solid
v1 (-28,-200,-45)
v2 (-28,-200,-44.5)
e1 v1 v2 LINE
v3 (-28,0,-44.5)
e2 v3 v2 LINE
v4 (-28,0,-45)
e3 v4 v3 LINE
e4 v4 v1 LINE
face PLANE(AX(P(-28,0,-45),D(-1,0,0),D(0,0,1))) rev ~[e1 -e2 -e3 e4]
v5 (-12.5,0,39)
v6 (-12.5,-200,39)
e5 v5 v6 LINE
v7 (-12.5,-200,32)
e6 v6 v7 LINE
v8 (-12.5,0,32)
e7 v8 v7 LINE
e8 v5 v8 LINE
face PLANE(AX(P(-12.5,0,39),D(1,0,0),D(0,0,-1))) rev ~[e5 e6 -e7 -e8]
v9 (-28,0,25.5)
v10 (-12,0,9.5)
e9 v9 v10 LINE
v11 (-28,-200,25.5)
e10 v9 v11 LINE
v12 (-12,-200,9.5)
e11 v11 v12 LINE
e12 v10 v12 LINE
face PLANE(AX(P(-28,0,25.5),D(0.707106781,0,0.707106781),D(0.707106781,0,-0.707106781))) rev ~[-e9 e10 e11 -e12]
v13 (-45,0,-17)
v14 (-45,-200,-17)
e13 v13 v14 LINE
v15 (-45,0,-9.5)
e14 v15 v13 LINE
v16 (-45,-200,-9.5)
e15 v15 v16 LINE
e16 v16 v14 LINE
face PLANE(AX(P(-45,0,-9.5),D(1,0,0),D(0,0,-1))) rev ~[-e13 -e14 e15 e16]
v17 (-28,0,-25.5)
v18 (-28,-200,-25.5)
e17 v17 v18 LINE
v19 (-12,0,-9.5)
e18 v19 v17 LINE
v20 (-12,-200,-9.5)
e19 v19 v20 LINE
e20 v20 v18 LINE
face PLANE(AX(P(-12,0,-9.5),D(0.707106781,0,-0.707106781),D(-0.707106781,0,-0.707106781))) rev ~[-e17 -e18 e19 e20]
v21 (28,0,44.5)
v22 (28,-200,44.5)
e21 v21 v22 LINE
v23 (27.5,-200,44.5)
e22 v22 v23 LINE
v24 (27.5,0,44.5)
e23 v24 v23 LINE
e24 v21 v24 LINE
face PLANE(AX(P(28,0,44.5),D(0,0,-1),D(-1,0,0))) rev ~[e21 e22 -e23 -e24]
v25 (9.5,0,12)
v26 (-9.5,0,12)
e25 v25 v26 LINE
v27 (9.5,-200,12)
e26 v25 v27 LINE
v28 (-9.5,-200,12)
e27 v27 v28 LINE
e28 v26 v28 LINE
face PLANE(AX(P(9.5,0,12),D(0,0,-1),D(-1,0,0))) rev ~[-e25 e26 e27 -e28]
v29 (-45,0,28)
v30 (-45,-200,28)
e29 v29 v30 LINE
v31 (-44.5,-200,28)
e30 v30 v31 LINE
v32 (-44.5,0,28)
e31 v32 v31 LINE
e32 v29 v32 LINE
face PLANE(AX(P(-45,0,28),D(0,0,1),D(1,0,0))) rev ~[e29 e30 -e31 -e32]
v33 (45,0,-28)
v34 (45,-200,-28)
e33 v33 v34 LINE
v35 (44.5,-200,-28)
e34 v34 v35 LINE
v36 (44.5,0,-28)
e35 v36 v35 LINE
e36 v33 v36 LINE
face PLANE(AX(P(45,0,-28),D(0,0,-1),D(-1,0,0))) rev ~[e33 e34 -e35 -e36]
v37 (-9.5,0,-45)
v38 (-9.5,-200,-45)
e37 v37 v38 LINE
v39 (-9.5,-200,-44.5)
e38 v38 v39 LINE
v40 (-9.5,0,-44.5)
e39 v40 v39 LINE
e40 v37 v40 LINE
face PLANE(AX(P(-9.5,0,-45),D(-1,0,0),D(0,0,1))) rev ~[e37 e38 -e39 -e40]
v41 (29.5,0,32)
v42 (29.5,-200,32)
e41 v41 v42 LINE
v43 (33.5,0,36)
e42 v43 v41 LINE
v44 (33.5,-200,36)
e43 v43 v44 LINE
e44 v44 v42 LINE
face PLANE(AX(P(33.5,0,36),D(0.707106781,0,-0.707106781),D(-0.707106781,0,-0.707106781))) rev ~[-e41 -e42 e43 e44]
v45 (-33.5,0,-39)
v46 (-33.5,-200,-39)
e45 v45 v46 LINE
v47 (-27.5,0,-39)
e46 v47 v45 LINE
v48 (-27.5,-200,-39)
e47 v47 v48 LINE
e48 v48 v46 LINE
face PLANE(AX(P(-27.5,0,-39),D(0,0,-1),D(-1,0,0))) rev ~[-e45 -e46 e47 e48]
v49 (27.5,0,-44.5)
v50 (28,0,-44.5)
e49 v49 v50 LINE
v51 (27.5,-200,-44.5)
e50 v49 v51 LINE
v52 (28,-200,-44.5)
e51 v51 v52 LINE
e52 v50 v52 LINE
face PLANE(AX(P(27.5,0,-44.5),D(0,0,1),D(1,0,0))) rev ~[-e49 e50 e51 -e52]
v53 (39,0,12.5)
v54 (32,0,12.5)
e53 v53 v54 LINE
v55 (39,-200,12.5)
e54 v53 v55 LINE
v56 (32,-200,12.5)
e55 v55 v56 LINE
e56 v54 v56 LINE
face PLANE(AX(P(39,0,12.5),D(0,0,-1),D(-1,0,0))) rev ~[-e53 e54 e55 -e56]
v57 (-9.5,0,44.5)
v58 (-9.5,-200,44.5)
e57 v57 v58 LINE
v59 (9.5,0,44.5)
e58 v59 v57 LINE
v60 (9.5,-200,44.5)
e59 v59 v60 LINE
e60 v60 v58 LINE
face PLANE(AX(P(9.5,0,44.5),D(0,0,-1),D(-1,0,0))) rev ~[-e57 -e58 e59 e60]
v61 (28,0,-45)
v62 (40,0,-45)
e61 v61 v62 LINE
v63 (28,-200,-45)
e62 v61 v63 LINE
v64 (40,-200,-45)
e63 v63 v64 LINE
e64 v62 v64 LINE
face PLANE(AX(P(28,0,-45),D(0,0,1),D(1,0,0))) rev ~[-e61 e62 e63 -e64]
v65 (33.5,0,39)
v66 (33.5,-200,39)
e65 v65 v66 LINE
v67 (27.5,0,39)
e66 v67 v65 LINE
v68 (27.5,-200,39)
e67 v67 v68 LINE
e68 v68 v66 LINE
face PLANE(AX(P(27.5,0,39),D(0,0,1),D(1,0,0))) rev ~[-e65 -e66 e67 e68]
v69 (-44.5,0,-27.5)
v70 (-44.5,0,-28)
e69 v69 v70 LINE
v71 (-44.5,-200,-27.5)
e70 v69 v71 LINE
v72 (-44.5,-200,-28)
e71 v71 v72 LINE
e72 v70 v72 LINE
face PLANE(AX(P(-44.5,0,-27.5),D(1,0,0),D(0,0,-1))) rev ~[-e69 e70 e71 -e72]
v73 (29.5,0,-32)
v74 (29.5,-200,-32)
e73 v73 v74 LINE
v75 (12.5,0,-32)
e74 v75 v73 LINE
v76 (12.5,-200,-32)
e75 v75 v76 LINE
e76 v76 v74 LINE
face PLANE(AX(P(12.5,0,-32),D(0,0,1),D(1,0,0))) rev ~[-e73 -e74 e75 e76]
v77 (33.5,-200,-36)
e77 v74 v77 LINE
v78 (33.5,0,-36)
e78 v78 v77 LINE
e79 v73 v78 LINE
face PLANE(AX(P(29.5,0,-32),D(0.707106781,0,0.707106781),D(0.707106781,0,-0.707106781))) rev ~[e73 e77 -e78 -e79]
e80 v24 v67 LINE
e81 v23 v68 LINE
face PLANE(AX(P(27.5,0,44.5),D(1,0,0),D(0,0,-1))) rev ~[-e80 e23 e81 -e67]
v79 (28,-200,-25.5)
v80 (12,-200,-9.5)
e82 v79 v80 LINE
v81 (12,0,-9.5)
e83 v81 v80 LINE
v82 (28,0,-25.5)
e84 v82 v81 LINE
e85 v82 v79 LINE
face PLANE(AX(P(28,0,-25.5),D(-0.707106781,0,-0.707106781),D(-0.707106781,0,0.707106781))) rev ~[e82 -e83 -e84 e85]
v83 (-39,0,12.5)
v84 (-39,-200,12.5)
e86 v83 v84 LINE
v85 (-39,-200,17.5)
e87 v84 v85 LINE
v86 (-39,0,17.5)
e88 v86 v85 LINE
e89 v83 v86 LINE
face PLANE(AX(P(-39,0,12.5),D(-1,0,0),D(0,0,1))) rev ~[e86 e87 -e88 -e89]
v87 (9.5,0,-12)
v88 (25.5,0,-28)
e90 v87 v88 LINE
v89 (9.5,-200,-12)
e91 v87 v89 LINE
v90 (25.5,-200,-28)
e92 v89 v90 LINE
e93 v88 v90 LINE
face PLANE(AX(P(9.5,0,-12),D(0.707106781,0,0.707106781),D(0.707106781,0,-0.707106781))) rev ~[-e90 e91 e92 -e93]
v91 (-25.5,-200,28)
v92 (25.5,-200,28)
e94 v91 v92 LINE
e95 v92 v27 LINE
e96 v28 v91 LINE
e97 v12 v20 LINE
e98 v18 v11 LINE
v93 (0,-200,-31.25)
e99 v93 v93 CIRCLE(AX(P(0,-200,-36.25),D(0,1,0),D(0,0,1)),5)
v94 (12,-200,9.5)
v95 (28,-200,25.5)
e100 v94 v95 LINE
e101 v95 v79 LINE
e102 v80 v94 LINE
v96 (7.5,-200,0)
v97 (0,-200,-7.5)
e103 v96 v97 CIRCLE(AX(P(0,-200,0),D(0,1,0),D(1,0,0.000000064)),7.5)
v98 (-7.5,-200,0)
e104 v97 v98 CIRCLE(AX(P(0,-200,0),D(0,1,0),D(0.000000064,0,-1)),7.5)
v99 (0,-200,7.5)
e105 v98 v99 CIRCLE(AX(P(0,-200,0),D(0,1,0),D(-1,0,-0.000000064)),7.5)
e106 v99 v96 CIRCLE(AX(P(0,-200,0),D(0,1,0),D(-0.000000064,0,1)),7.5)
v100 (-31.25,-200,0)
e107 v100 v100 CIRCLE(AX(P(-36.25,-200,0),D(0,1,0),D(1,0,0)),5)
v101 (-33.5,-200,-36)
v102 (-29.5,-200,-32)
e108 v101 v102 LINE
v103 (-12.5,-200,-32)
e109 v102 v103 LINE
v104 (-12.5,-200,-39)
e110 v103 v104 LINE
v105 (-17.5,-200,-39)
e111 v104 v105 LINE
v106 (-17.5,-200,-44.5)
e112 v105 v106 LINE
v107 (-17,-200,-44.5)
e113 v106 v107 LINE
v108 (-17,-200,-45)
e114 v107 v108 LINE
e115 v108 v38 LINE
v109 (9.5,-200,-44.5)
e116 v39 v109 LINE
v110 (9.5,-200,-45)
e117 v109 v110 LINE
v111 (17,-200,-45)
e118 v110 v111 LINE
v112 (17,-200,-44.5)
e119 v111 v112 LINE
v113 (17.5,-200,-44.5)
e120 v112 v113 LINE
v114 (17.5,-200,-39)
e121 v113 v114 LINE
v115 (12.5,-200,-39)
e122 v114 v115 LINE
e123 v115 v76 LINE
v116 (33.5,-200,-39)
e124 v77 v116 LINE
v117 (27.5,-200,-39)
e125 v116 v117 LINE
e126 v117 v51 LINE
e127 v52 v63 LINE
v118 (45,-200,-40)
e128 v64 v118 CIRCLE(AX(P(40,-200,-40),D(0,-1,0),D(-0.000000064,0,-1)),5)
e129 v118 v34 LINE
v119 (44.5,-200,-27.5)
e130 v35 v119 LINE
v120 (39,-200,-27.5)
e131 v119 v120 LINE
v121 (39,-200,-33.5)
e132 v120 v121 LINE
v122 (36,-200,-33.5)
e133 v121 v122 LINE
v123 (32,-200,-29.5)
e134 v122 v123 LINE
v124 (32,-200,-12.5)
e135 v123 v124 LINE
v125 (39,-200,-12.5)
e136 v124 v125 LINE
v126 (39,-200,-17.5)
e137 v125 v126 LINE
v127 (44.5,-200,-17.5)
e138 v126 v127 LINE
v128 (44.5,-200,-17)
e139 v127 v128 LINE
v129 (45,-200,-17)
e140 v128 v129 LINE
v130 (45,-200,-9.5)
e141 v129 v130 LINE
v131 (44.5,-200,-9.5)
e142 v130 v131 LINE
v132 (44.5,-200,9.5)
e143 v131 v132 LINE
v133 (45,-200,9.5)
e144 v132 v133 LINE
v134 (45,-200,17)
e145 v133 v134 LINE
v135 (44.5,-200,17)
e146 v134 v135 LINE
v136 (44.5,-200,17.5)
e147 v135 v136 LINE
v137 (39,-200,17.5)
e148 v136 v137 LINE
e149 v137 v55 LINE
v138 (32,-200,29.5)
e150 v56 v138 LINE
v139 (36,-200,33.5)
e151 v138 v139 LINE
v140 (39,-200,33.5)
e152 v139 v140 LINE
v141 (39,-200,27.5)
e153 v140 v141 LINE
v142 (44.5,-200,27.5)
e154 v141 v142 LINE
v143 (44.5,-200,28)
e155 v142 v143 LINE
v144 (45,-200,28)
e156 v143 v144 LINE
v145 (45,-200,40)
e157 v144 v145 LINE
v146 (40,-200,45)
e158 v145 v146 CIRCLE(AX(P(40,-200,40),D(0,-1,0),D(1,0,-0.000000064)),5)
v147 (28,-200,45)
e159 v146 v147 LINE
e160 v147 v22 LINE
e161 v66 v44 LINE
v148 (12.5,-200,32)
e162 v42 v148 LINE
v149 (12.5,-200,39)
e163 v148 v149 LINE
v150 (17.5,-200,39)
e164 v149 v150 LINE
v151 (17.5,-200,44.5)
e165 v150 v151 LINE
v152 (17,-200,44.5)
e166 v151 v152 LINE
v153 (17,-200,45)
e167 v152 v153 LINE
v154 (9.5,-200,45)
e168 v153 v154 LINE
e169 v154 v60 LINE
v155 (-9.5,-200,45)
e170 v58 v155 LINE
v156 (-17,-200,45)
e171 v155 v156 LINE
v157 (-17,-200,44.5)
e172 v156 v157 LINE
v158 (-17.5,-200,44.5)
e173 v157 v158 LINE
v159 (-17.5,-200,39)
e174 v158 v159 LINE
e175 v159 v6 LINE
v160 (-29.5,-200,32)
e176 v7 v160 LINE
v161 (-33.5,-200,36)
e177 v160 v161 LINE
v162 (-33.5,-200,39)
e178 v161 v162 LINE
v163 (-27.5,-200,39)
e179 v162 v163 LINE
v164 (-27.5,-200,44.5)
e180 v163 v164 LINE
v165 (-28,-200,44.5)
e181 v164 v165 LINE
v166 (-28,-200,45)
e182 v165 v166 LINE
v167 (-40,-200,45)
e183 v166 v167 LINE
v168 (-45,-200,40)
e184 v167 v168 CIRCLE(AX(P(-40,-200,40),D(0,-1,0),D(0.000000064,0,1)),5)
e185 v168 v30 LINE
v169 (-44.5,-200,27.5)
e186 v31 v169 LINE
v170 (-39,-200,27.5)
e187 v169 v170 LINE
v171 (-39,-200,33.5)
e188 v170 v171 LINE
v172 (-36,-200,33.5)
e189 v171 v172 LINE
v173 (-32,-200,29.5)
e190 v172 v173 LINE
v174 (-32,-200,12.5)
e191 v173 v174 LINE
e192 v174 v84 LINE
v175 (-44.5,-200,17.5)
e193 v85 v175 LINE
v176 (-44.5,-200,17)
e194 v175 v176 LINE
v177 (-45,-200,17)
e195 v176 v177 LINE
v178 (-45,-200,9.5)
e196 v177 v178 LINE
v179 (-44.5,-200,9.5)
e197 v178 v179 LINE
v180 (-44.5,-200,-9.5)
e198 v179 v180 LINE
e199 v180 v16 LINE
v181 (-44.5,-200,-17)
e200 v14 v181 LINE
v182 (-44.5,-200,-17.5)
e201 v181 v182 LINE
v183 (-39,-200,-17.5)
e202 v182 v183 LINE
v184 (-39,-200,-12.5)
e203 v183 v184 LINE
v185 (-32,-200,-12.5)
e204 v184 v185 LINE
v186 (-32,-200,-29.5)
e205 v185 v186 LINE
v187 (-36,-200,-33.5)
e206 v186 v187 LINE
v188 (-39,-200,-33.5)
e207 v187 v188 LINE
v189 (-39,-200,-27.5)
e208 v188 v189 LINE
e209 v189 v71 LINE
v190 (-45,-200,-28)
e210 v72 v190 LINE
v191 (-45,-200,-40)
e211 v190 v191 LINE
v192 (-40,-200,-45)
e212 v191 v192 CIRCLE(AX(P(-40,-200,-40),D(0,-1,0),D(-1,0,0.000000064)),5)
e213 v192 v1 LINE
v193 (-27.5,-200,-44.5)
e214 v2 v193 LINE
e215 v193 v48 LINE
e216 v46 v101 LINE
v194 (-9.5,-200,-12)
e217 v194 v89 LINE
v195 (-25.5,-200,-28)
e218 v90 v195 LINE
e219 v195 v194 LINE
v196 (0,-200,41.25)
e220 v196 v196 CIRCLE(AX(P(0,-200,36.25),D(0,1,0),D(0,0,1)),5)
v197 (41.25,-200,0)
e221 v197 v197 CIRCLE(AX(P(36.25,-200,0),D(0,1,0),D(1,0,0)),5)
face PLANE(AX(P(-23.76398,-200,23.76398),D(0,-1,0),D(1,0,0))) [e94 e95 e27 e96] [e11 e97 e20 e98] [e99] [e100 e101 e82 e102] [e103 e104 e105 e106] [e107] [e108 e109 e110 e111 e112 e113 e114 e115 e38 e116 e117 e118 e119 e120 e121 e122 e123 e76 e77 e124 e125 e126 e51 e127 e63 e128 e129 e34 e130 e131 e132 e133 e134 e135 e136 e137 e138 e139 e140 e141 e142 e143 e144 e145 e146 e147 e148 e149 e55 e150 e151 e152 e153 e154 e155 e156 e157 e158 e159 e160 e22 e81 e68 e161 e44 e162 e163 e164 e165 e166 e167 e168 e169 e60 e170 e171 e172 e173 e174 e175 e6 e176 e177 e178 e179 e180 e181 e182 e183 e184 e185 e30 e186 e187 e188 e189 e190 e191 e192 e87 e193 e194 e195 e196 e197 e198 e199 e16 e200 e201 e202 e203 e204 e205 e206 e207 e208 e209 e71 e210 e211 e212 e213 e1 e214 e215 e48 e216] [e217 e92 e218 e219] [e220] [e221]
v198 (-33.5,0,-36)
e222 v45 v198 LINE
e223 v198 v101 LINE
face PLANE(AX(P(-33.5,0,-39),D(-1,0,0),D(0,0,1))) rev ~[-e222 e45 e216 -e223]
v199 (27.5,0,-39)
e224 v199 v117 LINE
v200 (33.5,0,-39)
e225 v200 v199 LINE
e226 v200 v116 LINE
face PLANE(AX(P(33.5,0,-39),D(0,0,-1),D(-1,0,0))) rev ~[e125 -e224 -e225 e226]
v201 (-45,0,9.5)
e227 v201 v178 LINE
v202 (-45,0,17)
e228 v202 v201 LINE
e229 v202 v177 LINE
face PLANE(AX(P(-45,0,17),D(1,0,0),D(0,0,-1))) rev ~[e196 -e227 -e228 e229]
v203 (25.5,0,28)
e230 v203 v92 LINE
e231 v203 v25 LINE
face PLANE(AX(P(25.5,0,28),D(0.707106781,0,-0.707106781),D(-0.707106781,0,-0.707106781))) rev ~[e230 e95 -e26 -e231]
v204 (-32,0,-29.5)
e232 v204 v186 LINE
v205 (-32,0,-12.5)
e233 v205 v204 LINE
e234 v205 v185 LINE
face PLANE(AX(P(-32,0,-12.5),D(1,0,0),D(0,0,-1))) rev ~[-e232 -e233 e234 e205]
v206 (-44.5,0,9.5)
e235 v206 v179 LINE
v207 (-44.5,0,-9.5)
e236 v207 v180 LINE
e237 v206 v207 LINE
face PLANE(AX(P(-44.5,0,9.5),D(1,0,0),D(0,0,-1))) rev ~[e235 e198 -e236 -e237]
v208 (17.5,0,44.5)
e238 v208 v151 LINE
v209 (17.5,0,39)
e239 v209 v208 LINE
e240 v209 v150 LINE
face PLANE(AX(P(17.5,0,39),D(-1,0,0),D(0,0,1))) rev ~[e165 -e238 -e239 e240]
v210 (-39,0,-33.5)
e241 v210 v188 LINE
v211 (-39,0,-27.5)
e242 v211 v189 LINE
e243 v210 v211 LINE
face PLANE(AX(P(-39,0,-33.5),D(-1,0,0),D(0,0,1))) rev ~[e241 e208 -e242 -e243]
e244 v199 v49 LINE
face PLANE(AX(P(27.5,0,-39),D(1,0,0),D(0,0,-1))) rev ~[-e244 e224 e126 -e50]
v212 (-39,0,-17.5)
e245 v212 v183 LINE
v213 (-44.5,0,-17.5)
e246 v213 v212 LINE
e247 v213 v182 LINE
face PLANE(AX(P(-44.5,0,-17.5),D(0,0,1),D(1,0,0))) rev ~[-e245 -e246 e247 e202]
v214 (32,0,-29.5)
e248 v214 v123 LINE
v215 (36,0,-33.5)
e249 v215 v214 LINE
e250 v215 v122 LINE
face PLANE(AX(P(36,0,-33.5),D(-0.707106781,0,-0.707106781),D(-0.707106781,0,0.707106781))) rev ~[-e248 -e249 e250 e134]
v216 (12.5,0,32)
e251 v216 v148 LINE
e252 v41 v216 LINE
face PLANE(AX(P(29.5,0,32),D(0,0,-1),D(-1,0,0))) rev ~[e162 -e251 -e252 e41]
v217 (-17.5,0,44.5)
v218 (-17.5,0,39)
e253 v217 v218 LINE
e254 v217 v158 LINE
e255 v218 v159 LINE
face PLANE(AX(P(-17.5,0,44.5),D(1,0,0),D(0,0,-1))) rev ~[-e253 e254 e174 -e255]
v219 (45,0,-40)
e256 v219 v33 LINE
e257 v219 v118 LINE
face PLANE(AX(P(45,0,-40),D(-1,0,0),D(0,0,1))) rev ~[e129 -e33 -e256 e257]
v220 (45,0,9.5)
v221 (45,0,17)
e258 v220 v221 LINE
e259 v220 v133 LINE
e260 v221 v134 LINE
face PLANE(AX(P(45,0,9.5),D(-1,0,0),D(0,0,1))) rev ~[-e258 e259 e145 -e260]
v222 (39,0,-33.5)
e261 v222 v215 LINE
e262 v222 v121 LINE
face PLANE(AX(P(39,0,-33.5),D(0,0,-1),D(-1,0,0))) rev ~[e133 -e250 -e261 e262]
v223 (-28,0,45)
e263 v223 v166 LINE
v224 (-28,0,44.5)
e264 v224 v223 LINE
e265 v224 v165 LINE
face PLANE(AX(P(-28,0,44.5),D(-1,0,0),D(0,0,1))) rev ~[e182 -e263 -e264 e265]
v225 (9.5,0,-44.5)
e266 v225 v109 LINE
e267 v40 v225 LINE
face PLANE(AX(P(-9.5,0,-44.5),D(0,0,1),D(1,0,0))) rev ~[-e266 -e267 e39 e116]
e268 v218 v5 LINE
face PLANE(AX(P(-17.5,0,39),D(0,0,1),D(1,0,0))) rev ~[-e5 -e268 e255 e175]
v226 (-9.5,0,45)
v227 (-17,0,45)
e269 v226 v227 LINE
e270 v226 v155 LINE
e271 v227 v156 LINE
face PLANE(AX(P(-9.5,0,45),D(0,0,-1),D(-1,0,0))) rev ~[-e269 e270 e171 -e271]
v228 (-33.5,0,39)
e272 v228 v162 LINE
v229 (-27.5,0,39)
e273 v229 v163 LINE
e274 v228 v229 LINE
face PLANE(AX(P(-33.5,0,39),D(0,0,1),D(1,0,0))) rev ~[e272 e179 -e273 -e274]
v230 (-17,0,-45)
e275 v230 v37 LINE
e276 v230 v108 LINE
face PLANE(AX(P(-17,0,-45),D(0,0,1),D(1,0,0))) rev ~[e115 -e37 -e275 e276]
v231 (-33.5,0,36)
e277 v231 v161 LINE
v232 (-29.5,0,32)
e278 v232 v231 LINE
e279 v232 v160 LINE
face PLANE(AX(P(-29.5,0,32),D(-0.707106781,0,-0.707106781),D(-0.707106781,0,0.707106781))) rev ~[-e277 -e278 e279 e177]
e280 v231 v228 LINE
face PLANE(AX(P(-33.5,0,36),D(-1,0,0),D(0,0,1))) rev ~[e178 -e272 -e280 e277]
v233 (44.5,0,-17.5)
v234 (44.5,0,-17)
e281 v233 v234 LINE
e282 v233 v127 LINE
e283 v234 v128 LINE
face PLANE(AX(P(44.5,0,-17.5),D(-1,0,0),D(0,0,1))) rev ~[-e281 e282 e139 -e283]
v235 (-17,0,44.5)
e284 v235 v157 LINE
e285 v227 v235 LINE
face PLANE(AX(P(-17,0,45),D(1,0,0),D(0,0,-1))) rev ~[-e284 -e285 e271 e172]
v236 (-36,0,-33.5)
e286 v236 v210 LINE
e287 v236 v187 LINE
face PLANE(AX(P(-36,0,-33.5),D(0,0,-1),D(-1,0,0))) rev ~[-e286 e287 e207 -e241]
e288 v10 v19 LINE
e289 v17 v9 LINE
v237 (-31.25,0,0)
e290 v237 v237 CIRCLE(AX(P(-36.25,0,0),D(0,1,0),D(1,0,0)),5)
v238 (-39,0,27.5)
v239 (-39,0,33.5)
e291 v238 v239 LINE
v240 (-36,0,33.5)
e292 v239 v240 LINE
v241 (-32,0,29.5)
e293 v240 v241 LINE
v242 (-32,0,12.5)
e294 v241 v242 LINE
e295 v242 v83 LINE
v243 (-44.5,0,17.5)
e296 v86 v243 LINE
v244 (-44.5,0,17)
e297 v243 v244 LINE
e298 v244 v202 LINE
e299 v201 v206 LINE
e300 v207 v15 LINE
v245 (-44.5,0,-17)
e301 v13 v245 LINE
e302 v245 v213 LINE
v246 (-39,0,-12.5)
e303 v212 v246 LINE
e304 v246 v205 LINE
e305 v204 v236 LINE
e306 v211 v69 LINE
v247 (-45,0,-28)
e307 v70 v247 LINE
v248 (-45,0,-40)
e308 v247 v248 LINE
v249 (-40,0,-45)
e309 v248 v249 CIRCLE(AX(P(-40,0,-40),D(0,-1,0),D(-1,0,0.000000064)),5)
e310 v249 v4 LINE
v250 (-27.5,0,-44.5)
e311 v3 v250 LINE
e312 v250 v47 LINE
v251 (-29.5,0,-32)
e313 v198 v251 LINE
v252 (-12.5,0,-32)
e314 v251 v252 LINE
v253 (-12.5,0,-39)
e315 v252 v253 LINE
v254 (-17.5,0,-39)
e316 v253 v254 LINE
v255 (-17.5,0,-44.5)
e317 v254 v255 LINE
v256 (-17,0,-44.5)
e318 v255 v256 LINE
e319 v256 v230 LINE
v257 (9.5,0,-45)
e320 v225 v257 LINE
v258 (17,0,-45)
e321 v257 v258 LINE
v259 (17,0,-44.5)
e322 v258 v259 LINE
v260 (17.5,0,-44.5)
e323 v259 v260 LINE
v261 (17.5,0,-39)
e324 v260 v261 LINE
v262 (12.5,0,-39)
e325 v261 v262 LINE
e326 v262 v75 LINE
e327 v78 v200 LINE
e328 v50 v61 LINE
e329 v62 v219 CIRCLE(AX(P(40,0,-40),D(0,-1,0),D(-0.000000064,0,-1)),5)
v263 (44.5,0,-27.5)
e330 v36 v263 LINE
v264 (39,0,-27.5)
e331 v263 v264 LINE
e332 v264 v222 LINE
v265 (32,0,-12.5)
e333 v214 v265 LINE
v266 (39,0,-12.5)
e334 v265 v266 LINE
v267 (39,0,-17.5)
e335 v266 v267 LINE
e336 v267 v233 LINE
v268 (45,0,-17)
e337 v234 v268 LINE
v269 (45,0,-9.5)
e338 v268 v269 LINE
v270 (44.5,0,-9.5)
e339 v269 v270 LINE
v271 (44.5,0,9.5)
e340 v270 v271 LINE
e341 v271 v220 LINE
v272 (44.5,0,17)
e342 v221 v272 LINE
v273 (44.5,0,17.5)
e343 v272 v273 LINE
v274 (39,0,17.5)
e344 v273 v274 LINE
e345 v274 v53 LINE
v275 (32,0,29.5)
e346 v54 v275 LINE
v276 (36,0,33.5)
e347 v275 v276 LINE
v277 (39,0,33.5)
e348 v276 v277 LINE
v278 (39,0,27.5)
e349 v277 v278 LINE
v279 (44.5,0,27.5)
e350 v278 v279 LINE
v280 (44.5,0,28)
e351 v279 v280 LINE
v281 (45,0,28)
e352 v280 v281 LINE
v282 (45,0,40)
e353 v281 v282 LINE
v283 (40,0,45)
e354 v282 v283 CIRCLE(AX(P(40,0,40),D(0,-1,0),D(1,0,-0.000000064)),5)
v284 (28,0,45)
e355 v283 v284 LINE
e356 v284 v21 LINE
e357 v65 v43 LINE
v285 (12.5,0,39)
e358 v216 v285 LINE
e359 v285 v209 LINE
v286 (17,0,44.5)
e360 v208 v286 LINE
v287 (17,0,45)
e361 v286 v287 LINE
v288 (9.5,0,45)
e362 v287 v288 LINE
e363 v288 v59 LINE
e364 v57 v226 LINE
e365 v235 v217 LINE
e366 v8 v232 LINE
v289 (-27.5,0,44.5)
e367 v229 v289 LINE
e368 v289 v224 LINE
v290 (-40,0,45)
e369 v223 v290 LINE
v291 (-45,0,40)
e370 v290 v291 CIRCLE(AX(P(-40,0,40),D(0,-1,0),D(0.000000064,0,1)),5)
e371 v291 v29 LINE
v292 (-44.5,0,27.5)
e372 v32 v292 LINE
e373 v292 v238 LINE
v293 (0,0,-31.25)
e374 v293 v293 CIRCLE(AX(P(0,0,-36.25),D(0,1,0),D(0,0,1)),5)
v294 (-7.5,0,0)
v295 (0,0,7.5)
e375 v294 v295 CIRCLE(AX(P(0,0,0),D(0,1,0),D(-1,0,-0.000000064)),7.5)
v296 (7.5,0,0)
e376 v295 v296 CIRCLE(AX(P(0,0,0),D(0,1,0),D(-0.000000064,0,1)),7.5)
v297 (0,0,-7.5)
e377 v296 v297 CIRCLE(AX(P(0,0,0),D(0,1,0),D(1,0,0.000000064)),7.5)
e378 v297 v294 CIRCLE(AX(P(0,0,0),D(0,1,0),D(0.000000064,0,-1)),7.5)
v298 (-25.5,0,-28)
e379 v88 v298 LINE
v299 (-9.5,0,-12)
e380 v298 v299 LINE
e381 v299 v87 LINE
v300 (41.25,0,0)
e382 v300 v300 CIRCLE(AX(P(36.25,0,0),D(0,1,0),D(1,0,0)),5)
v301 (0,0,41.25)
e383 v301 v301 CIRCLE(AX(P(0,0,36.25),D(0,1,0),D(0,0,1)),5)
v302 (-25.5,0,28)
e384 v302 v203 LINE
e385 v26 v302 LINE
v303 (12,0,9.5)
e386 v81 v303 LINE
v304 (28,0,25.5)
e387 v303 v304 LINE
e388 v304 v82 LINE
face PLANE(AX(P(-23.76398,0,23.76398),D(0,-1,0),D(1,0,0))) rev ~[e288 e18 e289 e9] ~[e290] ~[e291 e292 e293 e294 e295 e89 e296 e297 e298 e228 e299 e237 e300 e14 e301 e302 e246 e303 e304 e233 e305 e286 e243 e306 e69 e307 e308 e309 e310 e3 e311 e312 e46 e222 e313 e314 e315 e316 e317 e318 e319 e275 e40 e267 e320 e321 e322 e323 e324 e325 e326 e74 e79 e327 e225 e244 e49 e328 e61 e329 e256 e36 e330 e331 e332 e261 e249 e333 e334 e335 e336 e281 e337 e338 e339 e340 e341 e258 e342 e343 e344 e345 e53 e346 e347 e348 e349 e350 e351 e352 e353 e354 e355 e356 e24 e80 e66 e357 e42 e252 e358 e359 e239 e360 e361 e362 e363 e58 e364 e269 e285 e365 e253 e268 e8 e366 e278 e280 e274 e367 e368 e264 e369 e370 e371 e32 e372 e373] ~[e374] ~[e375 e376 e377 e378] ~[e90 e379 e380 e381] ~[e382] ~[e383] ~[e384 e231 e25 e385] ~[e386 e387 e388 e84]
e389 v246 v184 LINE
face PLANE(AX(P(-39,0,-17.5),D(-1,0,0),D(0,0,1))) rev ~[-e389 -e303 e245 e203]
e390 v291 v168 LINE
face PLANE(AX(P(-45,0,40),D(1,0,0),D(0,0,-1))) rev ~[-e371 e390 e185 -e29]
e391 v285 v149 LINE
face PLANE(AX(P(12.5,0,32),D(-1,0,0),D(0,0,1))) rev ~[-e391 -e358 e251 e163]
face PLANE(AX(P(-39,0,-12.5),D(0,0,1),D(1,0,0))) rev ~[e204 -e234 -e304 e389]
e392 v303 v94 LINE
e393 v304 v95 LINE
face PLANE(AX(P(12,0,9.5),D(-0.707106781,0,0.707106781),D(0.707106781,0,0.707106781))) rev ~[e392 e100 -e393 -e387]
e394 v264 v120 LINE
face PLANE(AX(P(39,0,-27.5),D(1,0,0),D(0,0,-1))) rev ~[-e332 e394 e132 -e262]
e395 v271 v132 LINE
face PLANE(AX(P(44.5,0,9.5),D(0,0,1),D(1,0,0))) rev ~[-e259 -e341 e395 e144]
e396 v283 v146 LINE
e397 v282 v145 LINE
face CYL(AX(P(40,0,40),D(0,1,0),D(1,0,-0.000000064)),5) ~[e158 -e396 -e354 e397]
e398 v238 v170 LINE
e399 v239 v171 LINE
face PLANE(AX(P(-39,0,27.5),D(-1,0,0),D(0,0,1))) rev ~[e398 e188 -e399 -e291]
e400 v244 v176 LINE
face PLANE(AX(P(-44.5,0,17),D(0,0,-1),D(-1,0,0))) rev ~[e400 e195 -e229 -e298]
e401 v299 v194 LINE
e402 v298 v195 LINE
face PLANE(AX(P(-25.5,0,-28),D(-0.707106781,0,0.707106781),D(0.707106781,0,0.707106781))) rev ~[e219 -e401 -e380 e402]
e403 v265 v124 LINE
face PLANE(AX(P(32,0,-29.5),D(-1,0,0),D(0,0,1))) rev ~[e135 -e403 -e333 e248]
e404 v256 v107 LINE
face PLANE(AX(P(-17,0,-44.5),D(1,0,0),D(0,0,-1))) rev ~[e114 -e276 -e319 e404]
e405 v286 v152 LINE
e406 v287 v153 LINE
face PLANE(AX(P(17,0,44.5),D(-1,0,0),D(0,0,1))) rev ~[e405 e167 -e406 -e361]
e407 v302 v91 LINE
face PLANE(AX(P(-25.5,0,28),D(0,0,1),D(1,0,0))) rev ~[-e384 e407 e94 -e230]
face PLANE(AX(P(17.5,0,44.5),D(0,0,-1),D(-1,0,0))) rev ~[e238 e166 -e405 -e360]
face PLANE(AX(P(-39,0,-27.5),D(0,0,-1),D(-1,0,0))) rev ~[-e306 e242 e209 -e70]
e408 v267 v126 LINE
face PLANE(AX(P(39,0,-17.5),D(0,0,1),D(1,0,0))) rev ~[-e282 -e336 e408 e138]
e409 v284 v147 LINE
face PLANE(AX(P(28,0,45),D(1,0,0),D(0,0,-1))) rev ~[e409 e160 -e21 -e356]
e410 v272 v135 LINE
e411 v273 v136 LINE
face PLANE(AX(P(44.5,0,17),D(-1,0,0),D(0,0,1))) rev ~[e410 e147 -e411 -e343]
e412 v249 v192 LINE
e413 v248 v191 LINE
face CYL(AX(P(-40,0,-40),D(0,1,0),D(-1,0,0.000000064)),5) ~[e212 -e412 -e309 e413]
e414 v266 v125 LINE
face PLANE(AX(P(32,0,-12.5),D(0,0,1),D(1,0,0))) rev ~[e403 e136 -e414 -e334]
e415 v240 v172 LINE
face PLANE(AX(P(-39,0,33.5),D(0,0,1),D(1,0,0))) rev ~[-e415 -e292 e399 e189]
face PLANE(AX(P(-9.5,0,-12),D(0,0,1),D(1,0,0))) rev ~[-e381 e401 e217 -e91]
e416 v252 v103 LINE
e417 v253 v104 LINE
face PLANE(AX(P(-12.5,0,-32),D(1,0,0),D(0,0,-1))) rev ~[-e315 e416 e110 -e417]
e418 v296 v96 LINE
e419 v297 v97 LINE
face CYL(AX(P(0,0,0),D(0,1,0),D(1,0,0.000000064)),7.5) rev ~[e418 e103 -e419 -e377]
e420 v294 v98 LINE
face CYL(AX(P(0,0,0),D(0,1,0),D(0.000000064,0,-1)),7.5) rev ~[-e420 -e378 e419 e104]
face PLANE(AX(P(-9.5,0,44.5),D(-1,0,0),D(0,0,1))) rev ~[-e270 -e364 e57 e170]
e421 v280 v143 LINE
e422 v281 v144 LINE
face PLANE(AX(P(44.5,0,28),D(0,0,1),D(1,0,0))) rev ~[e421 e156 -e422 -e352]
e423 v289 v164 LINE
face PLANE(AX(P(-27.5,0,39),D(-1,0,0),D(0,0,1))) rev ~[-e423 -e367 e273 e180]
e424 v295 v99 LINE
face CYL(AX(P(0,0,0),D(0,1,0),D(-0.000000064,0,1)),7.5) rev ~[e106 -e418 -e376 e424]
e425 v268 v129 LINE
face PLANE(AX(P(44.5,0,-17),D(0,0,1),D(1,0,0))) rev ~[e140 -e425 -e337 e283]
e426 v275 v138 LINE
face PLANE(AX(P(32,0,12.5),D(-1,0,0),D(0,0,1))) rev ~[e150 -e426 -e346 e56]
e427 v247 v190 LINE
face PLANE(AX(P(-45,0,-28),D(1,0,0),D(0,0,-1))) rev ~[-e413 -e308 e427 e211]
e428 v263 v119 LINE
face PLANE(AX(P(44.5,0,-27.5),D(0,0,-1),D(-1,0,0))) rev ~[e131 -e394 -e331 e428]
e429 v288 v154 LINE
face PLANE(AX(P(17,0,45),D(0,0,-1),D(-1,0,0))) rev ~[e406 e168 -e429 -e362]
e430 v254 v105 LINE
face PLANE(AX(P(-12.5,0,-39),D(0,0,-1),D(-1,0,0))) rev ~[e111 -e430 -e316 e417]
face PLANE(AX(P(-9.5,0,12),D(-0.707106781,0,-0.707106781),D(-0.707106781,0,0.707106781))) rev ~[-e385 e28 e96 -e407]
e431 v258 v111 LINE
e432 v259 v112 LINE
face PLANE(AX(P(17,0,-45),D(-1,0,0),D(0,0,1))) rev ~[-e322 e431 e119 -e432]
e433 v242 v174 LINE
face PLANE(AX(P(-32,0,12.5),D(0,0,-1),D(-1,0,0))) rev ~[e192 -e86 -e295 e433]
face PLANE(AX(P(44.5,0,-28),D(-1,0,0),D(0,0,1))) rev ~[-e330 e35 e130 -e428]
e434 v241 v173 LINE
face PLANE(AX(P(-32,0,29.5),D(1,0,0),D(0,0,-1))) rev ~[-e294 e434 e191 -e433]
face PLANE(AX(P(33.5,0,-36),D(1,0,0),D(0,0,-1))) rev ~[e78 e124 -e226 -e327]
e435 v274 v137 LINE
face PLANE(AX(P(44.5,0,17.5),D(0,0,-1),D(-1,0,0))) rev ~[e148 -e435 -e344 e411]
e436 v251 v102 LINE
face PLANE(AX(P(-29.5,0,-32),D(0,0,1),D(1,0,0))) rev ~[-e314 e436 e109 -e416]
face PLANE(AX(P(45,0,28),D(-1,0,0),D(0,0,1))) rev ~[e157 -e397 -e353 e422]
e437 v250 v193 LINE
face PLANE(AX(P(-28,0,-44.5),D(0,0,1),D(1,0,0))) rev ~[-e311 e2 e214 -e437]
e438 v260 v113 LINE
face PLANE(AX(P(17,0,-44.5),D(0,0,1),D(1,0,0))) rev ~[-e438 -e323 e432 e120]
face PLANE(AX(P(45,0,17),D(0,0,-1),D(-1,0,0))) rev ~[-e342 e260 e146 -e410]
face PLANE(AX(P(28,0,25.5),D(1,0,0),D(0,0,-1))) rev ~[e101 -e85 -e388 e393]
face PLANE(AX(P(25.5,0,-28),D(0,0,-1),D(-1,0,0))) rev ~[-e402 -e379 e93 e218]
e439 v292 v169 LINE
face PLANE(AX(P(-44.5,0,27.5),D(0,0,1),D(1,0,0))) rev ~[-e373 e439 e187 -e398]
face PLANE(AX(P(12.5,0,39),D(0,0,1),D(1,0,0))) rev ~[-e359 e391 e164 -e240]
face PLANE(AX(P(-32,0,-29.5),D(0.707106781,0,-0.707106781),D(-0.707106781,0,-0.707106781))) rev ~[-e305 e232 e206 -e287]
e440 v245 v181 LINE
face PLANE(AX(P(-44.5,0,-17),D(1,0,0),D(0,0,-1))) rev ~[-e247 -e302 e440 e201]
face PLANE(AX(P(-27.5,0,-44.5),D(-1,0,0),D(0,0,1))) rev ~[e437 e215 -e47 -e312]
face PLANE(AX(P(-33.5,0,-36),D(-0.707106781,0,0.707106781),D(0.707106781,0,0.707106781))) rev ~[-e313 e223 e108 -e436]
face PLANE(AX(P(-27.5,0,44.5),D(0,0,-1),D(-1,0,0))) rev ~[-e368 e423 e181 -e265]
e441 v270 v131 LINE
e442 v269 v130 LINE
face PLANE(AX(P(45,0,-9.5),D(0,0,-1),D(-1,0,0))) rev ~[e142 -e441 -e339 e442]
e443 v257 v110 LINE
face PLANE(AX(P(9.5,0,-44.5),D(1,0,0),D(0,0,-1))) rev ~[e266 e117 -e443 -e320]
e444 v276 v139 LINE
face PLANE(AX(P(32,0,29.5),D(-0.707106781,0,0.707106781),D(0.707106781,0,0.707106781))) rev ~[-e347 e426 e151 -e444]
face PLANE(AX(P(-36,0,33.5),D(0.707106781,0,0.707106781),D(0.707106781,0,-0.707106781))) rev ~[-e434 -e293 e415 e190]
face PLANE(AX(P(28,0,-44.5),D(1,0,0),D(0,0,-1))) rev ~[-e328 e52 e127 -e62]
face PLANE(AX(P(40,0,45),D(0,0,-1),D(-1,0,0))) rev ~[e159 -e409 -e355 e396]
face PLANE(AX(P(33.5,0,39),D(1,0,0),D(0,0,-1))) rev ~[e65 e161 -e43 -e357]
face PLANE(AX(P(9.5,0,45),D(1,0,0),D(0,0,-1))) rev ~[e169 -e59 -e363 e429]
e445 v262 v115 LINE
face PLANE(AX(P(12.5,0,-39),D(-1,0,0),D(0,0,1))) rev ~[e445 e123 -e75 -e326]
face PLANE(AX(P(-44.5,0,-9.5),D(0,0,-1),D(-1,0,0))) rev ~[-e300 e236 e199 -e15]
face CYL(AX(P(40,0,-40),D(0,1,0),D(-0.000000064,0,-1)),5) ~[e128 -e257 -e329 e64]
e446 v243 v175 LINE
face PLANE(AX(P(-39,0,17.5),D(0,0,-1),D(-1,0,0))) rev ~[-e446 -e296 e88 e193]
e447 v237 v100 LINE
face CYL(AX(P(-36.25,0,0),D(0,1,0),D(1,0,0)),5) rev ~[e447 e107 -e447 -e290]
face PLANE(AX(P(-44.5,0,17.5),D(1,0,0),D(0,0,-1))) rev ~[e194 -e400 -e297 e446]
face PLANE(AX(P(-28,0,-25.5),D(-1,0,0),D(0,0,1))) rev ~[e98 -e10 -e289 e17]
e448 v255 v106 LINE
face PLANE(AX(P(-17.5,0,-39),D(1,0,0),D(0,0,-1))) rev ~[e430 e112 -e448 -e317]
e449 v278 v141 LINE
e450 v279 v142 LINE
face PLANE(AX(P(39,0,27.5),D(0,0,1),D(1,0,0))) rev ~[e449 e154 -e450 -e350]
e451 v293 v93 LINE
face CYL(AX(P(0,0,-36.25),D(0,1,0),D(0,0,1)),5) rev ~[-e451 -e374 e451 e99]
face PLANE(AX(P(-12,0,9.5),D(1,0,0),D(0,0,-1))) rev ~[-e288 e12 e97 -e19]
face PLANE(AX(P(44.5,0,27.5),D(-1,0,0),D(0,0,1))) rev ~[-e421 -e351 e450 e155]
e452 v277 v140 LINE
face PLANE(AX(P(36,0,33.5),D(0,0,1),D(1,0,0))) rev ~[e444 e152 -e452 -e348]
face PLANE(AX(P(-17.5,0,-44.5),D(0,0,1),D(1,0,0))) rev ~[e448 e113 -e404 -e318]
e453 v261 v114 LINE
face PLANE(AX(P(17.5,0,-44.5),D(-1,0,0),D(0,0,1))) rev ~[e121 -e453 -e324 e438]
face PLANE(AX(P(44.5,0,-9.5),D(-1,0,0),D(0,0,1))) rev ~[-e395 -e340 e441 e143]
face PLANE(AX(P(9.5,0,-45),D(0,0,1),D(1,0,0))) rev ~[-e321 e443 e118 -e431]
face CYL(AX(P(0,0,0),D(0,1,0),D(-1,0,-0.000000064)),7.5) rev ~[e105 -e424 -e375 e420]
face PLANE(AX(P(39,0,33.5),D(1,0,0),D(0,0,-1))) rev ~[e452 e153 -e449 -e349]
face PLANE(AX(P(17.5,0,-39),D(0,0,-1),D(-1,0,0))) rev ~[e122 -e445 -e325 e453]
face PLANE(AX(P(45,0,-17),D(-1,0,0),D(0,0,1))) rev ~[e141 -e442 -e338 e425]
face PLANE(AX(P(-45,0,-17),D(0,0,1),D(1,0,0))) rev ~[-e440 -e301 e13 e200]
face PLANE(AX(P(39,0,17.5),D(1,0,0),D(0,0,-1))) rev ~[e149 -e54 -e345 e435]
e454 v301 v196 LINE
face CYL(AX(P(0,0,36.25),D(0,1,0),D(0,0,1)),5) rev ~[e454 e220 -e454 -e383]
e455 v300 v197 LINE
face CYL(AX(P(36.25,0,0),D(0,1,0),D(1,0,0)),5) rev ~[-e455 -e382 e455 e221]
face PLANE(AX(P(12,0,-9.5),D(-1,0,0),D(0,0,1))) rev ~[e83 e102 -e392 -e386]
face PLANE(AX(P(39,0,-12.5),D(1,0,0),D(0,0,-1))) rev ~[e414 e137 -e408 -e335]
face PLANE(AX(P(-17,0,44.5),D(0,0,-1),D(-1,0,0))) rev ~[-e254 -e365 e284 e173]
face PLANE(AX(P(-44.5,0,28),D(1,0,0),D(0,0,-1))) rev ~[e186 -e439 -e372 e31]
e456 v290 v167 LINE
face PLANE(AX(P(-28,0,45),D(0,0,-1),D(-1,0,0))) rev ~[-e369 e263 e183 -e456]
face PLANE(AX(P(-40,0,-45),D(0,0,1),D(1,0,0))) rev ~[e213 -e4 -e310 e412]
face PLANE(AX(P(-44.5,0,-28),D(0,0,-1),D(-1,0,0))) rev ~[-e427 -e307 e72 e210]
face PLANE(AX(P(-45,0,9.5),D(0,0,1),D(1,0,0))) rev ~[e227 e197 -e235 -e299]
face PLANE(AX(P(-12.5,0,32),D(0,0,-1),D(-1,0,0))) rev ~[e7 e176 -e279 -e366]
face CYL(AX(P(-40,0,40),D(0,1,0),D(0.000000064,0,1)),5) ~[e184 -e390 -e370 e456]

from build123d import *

# Parameters (mm, degrees)
F1_DEPTH = 200


with BuildPart() as f1:
    # F0 (on Front) → F1 (new body)
    with BuildSketch(Plane.XZ):
        with BuildLine():
            Line((0, 41.25), (0, 44.5))
            Line((0, 44.5), (-9.5, 44.5))
            Line((-9.5, 44.5), (-9.5, 45))
            Line((-9.5, 45), (-17, 45))
            Line((-17, 45), (-17, 44.5))
            Line((-17, 44.5), (-17.5, 44.5))
            Line((-17.5, 44.5), (-17.5, 39))
            Line((-17.5, 39), (-12.5, 39))
            Line((-12.5, 39), (-12.5, 32))
            Line((-12.5, 32), (-29.5, 32))
            Line((-29.5, 32), (-33.5, 36))
            Line((-33.5, 36), (-33.5, 39))
            Line((-33.5, 39), (-27.5, 39))
            Line((-27.5, 39), (-27.5, 44.5))
            Line((-27.5, 44.5), (-28, 44.5))
            Line((-28, 44.5), (-28, 45))
            Line((-28, 45), (-40, 45))
            ThreePointArc((-40, 45), (-43.535534, 43.535534), (-45, 40))
            Line((-45, 40), (-45, 28))
            Line((-45, 28), (-44.5, 28))
            Line((-44.5, 28), (-44.5, 27.5))
            Line((-44.5, 27.5), (-39, 27.5))
            Line((-39, 27.5), (-39, 33.5))
            Line((-39, 33.5), (-36, 33.5))
            Line((-36, 33.5), (-32, 29.5))
            Line((-32, 29.5), (-32, 12.5))
            Line((-32, 12.5), (-39, 12.5))
            Line((-39, 12.5), (-39, 17.5))
            Line((-39, 17.5), (-44.5, 17.5))
            Line((-44.5, 17.5), (-44.5, 17))
            Line((-44.5, 17), (-45, 17))
            Line((-45, 17), (-45, 9.5))
            Line((-45, 9.5), (-44.5, 9.5))
            Line((-44.5, 9.5), (-44.5, 0))
            Line((-44.5, 0), (-41.25, 0))
            ThreePointArc((-41.25, 0), (-36.25, 5), (-31.25, 0))
            Line((-31.25, 0), (-28, 0))
            Line((-28, 0), (-28, 25.5))
            Line((-28, 25.5), (-12, 9.5))
            Line((-12, 9.5), (-12, 0))
            Line((-12, 0), (-7.5, 0))
            ThreePointArc((-7.5, 0), (-5.303301, 5.303301), (0, 7.5))
            Line((0, 7.5), (0, 12))
            Line((0, 12), (-9.5, 12))
            Line((-9.5, 12), (-25.5, 28))
            Line((-25.5, 28), (0, 28))
            Line((0, 28), (0, 31.25))
            ThreePointArc((0, 31.25), (-5, 36.25), (0, 41.25))
        make_face()
        with BuildLine():
            Line((40, 45), (28, 45))
            Line((28, 45), (28, 44.5))
            Line((28, 44.5), (27.5, 44.5))
            Line((27.5, 44.5), (27.5, 39))
            Line((27.5, 39), (33.5, 39))
            Line((33.5, 39), (33.5, 36))
            Line((33.5, 36), (29.5, 32))
            Line((29.5, 32), (12.5, 32))
            Line((12.5, 32), (12.5, 39))
            Line((12.5, 39), (17.5, 39))
            Line((17.5, 39), (17.5, 44.5))
            Line((17.5, 44.5), (17, 44.5))
            Line((17, 44.5), (17, 45))
            Line((17, 45), (9.5, 45))
            Line((9.5, 45), (9.5, 44.5))
            Line((9.5, 44.5), (0, 44.5))
            Line((0, 44.5), (0, 41.25))
            ThreePointArc((0, 41.25), (5, 36.25), (0, 31.25))
            Line((0, 31.25), (0, 28))
            Line((0, 28), (25.5, 28))
            Line((25.5, 28), (9.5, 12))
            Line((9.5, 12), (0, 12))
            Line((0, 12), (0, 7.5))
            ThreePointArc((0, 7.5), (5.303301, 5.303301), (7.5, 0))
            Line((7.5, 0), (12, 0))
            Line((12, 0), (12, 9.5))
            Line((12, 9.5), (28, 25.5))
            Line((28, 25.5), (28, 0))
            Line((28, 0), (31.25, 0))
            ThreePointArc((31.25, 0), (36.25, 5), (41.25, 0))
            Line((41.25, 0), (44.5, 0))
            Line((44.5, 0), (44.5, 9.5))
            Line((44.5, 9.5), (45, 9.5))
            Line((45, 9.5), (45, 17))
            Line((45, 17), (44.5, 17))
            Line((44.5, 17), (44.5, 17.5))
            Line((44.5, 17.5), (39, 17.5))
            Line((39, 17.5), (39, 12.5))
            Line((39, 12.5), (32, 12.5))
            Line((32, 12.5), (32, 29.5))
            Line((32, 29.5), (36, 33.5))
            Line((36, 33.5), (39, 33.5))
            Line((39, 33.5), (39, 27.5))
            Line((39, 27.5), (44.5, 27.5))
            Line((44.5, 27.5), (44.5, 28))
            Line((44.5, 28), (45, 28))
            Line((45, 28), (45, 40))
            ThreePointArc((45, 40), (43.535534, 43.535534), (40, 45))
        make_face()
        with BuildLine():
            ThreePointArc((0, -7.5), (-5.303301, -5.303301), (-7.5, 0))
            Line((-7.5, 0), (-12, 0))
            Line((-12, 0), (-12, -9.5))
            Line((-12, -9.5), (-28, -25.5))
            Line((-28, -25.5), (-28, 0))
            Line((-28, 0), (-31.25, 0))
            ThreePointArc((-31.25, 0), (-36.25, -5), (-41.25, 0))
            Line((-41.25, 0), (-44.5, 0))
            Line((-44.5, 0), (-44.5, -9.5))
            Line((-44.5, -9.5), (-45, -9.5))
            Line((-45, -9.5), (-45, -17))
            Line((-45, -17), (-44.5, -17))
            Line((-44.5, -17), (-44.5, -17.5))
            Line((-44.5, -17.5), (-39, -17.5))
            Line((-39, -17.5), (-39, -12.5))
            Line((-39, -12.5), (-32, -12.5))
            Line((-32, -12.5), (-32, -29.5))
            Line((-32, -29.5), (-36, -33.5))
            Line((-36, -33.5), (-39, -33.5))
            Line((-39, -33.5), (-39, -27.5))
            Line((-39, -27.5), (-44.5, -27.5))
            Line((-44.5, -27.5), (-44.5, -28))
            Line((-44.5, -28), (-45, -28))
            Line((-45, -28), (-45, -40))
            ThreePointArc((-45, -40), (-43.535534, -43.535534), (-40, -45))
            Line((-40, -45), (-28, -45))
            Line((-28, -45), (-28, -44.5))
            Line((-28, -44.5), (-27.5, -44.5))
            Line((-27.5, -44.5), (-27.5, -39))
            Line((-27.5, -39), (-33.5, -39))
            Line((-33.5, -39), (-33.5, -36))
            Line((-33.5, -36), (-29.5, -32))
            Line((-29.5, -32), (-12.5, -32))
            Line((-12.5, -32), (-12.5, -39))
            Line((-12.5, -39), (-17.5, -39))
            Line((-17.5, -39), (-17.5, -44.5))
            Line((-17.5, -44.5), (-17, -44.5))
            Line((-17, -44.5), (-17, -45))
            Line((-17, -45), (-9.5, -45))
            Line((-9.5, -45), (-9.5, -44.5))
            Line((-9.5, -44.5), (0, -44.5))
            Line((0, -44.5), (0, -41.25))
            ThreePointArc((0, -41.25), (-5, -36.25), (0, -31.25))
            Line((0, -31.25), (0, -28))
            Line((0, -28), (-25.5, -28))
            Line((-25.5, -28), (-9.5, -12))
            Line((-9.5, -12), (0, -12))
            Line((0, -12), (0, -7.5))
        make_face()
        with BuildLine():
            Line((44.5, -9.5), (44.5, 0))
            Line((44.5, 0), (41.25, 0))
            ThreePointArc((41.25, 0), (36.25, -5), (31.25, 0))
            Line((31.25, 0), (28, 0))
            Line((28, 0), (28, -25.5))
            Line((28, -25.5), (12, -9.5))
            Line((12, -9.5), (12, 0))
            Line((12, 0), (7.5, 0))
            ThreePointArc((7.5, 0), (5.303301, -5.303301), (0, -7.5))
            Line((0, -7.5), (0, -12))
            Line((0, -12), (9.5, -12))
            Line((9.5, -12), (25.5, -28))
            Line((25.5, -28), (0, -28))
            Line((0, -28), (0, -31.25))
            ThreePointArc((0, -31.25), (5, -36.25), (0, -41.25))
            Line((0, -41.25), (0, -44.5))
            Line((0, -44.5), (9.5, -44.5))
            Line((9.5, -44.5), (9.5, -45))
            Line((9.5, -45), (17, -45))
            Line((17, -45), (17, -44.5))
            Line((17, -44.5), (17.5, -44.5))
            Line((17.5, -44.5), (17.5, -39))
            Line((17.5, -39), (12.5, -39))
            Line((12.5, -39), (12.5, -32))
            Line((12.5, -32), (29.5, -32))
            Line((29.5, -32), (33.5, -36))
            Line((33.5, -36), (33.5, -39))
            Line((33.5, -39), (27.5, -39))
            Line((27.5, -39), (27.5, -44.5))
            Line((27.5, -44.5), (28, -44.5))
            Line((28, -44.5), (28, -45))
            Line((28, -45), (40, -45))
            ThreePointArc((40, -45), (43.535534, -43.535534), (45, -40))
            Line((45, -40), (45, -28))
            Line((45, -28), (44.5, -28))
            Line((44.5, -28), (44.5, -27.5))
            Line((44.5, -27.5), (39, -27.5))
            Line((39, -27.5), (39, -33.5))
            Line((39, -33.5), (36, -33.5))
            Line((36, -33.5), (32, -29.5))
            Line((32, -29.5), (32, -12.5))
            Line((32, -12.5), (39, -12.5))
            Line((39, -12.5), (39, -17.5))
            Line((39, -17.5), (44.5, -17.5))
            Line((44.5, -17.5), (44.5, -17))
            Line((44.5, -17), (45, -17))
            Line((45, -17), (45, -9.5))
            Line((45, -9.5), (44.5, -9.5))
        make_face()
    extrude(amount=F1_DEPTH)


solid = f1.part
